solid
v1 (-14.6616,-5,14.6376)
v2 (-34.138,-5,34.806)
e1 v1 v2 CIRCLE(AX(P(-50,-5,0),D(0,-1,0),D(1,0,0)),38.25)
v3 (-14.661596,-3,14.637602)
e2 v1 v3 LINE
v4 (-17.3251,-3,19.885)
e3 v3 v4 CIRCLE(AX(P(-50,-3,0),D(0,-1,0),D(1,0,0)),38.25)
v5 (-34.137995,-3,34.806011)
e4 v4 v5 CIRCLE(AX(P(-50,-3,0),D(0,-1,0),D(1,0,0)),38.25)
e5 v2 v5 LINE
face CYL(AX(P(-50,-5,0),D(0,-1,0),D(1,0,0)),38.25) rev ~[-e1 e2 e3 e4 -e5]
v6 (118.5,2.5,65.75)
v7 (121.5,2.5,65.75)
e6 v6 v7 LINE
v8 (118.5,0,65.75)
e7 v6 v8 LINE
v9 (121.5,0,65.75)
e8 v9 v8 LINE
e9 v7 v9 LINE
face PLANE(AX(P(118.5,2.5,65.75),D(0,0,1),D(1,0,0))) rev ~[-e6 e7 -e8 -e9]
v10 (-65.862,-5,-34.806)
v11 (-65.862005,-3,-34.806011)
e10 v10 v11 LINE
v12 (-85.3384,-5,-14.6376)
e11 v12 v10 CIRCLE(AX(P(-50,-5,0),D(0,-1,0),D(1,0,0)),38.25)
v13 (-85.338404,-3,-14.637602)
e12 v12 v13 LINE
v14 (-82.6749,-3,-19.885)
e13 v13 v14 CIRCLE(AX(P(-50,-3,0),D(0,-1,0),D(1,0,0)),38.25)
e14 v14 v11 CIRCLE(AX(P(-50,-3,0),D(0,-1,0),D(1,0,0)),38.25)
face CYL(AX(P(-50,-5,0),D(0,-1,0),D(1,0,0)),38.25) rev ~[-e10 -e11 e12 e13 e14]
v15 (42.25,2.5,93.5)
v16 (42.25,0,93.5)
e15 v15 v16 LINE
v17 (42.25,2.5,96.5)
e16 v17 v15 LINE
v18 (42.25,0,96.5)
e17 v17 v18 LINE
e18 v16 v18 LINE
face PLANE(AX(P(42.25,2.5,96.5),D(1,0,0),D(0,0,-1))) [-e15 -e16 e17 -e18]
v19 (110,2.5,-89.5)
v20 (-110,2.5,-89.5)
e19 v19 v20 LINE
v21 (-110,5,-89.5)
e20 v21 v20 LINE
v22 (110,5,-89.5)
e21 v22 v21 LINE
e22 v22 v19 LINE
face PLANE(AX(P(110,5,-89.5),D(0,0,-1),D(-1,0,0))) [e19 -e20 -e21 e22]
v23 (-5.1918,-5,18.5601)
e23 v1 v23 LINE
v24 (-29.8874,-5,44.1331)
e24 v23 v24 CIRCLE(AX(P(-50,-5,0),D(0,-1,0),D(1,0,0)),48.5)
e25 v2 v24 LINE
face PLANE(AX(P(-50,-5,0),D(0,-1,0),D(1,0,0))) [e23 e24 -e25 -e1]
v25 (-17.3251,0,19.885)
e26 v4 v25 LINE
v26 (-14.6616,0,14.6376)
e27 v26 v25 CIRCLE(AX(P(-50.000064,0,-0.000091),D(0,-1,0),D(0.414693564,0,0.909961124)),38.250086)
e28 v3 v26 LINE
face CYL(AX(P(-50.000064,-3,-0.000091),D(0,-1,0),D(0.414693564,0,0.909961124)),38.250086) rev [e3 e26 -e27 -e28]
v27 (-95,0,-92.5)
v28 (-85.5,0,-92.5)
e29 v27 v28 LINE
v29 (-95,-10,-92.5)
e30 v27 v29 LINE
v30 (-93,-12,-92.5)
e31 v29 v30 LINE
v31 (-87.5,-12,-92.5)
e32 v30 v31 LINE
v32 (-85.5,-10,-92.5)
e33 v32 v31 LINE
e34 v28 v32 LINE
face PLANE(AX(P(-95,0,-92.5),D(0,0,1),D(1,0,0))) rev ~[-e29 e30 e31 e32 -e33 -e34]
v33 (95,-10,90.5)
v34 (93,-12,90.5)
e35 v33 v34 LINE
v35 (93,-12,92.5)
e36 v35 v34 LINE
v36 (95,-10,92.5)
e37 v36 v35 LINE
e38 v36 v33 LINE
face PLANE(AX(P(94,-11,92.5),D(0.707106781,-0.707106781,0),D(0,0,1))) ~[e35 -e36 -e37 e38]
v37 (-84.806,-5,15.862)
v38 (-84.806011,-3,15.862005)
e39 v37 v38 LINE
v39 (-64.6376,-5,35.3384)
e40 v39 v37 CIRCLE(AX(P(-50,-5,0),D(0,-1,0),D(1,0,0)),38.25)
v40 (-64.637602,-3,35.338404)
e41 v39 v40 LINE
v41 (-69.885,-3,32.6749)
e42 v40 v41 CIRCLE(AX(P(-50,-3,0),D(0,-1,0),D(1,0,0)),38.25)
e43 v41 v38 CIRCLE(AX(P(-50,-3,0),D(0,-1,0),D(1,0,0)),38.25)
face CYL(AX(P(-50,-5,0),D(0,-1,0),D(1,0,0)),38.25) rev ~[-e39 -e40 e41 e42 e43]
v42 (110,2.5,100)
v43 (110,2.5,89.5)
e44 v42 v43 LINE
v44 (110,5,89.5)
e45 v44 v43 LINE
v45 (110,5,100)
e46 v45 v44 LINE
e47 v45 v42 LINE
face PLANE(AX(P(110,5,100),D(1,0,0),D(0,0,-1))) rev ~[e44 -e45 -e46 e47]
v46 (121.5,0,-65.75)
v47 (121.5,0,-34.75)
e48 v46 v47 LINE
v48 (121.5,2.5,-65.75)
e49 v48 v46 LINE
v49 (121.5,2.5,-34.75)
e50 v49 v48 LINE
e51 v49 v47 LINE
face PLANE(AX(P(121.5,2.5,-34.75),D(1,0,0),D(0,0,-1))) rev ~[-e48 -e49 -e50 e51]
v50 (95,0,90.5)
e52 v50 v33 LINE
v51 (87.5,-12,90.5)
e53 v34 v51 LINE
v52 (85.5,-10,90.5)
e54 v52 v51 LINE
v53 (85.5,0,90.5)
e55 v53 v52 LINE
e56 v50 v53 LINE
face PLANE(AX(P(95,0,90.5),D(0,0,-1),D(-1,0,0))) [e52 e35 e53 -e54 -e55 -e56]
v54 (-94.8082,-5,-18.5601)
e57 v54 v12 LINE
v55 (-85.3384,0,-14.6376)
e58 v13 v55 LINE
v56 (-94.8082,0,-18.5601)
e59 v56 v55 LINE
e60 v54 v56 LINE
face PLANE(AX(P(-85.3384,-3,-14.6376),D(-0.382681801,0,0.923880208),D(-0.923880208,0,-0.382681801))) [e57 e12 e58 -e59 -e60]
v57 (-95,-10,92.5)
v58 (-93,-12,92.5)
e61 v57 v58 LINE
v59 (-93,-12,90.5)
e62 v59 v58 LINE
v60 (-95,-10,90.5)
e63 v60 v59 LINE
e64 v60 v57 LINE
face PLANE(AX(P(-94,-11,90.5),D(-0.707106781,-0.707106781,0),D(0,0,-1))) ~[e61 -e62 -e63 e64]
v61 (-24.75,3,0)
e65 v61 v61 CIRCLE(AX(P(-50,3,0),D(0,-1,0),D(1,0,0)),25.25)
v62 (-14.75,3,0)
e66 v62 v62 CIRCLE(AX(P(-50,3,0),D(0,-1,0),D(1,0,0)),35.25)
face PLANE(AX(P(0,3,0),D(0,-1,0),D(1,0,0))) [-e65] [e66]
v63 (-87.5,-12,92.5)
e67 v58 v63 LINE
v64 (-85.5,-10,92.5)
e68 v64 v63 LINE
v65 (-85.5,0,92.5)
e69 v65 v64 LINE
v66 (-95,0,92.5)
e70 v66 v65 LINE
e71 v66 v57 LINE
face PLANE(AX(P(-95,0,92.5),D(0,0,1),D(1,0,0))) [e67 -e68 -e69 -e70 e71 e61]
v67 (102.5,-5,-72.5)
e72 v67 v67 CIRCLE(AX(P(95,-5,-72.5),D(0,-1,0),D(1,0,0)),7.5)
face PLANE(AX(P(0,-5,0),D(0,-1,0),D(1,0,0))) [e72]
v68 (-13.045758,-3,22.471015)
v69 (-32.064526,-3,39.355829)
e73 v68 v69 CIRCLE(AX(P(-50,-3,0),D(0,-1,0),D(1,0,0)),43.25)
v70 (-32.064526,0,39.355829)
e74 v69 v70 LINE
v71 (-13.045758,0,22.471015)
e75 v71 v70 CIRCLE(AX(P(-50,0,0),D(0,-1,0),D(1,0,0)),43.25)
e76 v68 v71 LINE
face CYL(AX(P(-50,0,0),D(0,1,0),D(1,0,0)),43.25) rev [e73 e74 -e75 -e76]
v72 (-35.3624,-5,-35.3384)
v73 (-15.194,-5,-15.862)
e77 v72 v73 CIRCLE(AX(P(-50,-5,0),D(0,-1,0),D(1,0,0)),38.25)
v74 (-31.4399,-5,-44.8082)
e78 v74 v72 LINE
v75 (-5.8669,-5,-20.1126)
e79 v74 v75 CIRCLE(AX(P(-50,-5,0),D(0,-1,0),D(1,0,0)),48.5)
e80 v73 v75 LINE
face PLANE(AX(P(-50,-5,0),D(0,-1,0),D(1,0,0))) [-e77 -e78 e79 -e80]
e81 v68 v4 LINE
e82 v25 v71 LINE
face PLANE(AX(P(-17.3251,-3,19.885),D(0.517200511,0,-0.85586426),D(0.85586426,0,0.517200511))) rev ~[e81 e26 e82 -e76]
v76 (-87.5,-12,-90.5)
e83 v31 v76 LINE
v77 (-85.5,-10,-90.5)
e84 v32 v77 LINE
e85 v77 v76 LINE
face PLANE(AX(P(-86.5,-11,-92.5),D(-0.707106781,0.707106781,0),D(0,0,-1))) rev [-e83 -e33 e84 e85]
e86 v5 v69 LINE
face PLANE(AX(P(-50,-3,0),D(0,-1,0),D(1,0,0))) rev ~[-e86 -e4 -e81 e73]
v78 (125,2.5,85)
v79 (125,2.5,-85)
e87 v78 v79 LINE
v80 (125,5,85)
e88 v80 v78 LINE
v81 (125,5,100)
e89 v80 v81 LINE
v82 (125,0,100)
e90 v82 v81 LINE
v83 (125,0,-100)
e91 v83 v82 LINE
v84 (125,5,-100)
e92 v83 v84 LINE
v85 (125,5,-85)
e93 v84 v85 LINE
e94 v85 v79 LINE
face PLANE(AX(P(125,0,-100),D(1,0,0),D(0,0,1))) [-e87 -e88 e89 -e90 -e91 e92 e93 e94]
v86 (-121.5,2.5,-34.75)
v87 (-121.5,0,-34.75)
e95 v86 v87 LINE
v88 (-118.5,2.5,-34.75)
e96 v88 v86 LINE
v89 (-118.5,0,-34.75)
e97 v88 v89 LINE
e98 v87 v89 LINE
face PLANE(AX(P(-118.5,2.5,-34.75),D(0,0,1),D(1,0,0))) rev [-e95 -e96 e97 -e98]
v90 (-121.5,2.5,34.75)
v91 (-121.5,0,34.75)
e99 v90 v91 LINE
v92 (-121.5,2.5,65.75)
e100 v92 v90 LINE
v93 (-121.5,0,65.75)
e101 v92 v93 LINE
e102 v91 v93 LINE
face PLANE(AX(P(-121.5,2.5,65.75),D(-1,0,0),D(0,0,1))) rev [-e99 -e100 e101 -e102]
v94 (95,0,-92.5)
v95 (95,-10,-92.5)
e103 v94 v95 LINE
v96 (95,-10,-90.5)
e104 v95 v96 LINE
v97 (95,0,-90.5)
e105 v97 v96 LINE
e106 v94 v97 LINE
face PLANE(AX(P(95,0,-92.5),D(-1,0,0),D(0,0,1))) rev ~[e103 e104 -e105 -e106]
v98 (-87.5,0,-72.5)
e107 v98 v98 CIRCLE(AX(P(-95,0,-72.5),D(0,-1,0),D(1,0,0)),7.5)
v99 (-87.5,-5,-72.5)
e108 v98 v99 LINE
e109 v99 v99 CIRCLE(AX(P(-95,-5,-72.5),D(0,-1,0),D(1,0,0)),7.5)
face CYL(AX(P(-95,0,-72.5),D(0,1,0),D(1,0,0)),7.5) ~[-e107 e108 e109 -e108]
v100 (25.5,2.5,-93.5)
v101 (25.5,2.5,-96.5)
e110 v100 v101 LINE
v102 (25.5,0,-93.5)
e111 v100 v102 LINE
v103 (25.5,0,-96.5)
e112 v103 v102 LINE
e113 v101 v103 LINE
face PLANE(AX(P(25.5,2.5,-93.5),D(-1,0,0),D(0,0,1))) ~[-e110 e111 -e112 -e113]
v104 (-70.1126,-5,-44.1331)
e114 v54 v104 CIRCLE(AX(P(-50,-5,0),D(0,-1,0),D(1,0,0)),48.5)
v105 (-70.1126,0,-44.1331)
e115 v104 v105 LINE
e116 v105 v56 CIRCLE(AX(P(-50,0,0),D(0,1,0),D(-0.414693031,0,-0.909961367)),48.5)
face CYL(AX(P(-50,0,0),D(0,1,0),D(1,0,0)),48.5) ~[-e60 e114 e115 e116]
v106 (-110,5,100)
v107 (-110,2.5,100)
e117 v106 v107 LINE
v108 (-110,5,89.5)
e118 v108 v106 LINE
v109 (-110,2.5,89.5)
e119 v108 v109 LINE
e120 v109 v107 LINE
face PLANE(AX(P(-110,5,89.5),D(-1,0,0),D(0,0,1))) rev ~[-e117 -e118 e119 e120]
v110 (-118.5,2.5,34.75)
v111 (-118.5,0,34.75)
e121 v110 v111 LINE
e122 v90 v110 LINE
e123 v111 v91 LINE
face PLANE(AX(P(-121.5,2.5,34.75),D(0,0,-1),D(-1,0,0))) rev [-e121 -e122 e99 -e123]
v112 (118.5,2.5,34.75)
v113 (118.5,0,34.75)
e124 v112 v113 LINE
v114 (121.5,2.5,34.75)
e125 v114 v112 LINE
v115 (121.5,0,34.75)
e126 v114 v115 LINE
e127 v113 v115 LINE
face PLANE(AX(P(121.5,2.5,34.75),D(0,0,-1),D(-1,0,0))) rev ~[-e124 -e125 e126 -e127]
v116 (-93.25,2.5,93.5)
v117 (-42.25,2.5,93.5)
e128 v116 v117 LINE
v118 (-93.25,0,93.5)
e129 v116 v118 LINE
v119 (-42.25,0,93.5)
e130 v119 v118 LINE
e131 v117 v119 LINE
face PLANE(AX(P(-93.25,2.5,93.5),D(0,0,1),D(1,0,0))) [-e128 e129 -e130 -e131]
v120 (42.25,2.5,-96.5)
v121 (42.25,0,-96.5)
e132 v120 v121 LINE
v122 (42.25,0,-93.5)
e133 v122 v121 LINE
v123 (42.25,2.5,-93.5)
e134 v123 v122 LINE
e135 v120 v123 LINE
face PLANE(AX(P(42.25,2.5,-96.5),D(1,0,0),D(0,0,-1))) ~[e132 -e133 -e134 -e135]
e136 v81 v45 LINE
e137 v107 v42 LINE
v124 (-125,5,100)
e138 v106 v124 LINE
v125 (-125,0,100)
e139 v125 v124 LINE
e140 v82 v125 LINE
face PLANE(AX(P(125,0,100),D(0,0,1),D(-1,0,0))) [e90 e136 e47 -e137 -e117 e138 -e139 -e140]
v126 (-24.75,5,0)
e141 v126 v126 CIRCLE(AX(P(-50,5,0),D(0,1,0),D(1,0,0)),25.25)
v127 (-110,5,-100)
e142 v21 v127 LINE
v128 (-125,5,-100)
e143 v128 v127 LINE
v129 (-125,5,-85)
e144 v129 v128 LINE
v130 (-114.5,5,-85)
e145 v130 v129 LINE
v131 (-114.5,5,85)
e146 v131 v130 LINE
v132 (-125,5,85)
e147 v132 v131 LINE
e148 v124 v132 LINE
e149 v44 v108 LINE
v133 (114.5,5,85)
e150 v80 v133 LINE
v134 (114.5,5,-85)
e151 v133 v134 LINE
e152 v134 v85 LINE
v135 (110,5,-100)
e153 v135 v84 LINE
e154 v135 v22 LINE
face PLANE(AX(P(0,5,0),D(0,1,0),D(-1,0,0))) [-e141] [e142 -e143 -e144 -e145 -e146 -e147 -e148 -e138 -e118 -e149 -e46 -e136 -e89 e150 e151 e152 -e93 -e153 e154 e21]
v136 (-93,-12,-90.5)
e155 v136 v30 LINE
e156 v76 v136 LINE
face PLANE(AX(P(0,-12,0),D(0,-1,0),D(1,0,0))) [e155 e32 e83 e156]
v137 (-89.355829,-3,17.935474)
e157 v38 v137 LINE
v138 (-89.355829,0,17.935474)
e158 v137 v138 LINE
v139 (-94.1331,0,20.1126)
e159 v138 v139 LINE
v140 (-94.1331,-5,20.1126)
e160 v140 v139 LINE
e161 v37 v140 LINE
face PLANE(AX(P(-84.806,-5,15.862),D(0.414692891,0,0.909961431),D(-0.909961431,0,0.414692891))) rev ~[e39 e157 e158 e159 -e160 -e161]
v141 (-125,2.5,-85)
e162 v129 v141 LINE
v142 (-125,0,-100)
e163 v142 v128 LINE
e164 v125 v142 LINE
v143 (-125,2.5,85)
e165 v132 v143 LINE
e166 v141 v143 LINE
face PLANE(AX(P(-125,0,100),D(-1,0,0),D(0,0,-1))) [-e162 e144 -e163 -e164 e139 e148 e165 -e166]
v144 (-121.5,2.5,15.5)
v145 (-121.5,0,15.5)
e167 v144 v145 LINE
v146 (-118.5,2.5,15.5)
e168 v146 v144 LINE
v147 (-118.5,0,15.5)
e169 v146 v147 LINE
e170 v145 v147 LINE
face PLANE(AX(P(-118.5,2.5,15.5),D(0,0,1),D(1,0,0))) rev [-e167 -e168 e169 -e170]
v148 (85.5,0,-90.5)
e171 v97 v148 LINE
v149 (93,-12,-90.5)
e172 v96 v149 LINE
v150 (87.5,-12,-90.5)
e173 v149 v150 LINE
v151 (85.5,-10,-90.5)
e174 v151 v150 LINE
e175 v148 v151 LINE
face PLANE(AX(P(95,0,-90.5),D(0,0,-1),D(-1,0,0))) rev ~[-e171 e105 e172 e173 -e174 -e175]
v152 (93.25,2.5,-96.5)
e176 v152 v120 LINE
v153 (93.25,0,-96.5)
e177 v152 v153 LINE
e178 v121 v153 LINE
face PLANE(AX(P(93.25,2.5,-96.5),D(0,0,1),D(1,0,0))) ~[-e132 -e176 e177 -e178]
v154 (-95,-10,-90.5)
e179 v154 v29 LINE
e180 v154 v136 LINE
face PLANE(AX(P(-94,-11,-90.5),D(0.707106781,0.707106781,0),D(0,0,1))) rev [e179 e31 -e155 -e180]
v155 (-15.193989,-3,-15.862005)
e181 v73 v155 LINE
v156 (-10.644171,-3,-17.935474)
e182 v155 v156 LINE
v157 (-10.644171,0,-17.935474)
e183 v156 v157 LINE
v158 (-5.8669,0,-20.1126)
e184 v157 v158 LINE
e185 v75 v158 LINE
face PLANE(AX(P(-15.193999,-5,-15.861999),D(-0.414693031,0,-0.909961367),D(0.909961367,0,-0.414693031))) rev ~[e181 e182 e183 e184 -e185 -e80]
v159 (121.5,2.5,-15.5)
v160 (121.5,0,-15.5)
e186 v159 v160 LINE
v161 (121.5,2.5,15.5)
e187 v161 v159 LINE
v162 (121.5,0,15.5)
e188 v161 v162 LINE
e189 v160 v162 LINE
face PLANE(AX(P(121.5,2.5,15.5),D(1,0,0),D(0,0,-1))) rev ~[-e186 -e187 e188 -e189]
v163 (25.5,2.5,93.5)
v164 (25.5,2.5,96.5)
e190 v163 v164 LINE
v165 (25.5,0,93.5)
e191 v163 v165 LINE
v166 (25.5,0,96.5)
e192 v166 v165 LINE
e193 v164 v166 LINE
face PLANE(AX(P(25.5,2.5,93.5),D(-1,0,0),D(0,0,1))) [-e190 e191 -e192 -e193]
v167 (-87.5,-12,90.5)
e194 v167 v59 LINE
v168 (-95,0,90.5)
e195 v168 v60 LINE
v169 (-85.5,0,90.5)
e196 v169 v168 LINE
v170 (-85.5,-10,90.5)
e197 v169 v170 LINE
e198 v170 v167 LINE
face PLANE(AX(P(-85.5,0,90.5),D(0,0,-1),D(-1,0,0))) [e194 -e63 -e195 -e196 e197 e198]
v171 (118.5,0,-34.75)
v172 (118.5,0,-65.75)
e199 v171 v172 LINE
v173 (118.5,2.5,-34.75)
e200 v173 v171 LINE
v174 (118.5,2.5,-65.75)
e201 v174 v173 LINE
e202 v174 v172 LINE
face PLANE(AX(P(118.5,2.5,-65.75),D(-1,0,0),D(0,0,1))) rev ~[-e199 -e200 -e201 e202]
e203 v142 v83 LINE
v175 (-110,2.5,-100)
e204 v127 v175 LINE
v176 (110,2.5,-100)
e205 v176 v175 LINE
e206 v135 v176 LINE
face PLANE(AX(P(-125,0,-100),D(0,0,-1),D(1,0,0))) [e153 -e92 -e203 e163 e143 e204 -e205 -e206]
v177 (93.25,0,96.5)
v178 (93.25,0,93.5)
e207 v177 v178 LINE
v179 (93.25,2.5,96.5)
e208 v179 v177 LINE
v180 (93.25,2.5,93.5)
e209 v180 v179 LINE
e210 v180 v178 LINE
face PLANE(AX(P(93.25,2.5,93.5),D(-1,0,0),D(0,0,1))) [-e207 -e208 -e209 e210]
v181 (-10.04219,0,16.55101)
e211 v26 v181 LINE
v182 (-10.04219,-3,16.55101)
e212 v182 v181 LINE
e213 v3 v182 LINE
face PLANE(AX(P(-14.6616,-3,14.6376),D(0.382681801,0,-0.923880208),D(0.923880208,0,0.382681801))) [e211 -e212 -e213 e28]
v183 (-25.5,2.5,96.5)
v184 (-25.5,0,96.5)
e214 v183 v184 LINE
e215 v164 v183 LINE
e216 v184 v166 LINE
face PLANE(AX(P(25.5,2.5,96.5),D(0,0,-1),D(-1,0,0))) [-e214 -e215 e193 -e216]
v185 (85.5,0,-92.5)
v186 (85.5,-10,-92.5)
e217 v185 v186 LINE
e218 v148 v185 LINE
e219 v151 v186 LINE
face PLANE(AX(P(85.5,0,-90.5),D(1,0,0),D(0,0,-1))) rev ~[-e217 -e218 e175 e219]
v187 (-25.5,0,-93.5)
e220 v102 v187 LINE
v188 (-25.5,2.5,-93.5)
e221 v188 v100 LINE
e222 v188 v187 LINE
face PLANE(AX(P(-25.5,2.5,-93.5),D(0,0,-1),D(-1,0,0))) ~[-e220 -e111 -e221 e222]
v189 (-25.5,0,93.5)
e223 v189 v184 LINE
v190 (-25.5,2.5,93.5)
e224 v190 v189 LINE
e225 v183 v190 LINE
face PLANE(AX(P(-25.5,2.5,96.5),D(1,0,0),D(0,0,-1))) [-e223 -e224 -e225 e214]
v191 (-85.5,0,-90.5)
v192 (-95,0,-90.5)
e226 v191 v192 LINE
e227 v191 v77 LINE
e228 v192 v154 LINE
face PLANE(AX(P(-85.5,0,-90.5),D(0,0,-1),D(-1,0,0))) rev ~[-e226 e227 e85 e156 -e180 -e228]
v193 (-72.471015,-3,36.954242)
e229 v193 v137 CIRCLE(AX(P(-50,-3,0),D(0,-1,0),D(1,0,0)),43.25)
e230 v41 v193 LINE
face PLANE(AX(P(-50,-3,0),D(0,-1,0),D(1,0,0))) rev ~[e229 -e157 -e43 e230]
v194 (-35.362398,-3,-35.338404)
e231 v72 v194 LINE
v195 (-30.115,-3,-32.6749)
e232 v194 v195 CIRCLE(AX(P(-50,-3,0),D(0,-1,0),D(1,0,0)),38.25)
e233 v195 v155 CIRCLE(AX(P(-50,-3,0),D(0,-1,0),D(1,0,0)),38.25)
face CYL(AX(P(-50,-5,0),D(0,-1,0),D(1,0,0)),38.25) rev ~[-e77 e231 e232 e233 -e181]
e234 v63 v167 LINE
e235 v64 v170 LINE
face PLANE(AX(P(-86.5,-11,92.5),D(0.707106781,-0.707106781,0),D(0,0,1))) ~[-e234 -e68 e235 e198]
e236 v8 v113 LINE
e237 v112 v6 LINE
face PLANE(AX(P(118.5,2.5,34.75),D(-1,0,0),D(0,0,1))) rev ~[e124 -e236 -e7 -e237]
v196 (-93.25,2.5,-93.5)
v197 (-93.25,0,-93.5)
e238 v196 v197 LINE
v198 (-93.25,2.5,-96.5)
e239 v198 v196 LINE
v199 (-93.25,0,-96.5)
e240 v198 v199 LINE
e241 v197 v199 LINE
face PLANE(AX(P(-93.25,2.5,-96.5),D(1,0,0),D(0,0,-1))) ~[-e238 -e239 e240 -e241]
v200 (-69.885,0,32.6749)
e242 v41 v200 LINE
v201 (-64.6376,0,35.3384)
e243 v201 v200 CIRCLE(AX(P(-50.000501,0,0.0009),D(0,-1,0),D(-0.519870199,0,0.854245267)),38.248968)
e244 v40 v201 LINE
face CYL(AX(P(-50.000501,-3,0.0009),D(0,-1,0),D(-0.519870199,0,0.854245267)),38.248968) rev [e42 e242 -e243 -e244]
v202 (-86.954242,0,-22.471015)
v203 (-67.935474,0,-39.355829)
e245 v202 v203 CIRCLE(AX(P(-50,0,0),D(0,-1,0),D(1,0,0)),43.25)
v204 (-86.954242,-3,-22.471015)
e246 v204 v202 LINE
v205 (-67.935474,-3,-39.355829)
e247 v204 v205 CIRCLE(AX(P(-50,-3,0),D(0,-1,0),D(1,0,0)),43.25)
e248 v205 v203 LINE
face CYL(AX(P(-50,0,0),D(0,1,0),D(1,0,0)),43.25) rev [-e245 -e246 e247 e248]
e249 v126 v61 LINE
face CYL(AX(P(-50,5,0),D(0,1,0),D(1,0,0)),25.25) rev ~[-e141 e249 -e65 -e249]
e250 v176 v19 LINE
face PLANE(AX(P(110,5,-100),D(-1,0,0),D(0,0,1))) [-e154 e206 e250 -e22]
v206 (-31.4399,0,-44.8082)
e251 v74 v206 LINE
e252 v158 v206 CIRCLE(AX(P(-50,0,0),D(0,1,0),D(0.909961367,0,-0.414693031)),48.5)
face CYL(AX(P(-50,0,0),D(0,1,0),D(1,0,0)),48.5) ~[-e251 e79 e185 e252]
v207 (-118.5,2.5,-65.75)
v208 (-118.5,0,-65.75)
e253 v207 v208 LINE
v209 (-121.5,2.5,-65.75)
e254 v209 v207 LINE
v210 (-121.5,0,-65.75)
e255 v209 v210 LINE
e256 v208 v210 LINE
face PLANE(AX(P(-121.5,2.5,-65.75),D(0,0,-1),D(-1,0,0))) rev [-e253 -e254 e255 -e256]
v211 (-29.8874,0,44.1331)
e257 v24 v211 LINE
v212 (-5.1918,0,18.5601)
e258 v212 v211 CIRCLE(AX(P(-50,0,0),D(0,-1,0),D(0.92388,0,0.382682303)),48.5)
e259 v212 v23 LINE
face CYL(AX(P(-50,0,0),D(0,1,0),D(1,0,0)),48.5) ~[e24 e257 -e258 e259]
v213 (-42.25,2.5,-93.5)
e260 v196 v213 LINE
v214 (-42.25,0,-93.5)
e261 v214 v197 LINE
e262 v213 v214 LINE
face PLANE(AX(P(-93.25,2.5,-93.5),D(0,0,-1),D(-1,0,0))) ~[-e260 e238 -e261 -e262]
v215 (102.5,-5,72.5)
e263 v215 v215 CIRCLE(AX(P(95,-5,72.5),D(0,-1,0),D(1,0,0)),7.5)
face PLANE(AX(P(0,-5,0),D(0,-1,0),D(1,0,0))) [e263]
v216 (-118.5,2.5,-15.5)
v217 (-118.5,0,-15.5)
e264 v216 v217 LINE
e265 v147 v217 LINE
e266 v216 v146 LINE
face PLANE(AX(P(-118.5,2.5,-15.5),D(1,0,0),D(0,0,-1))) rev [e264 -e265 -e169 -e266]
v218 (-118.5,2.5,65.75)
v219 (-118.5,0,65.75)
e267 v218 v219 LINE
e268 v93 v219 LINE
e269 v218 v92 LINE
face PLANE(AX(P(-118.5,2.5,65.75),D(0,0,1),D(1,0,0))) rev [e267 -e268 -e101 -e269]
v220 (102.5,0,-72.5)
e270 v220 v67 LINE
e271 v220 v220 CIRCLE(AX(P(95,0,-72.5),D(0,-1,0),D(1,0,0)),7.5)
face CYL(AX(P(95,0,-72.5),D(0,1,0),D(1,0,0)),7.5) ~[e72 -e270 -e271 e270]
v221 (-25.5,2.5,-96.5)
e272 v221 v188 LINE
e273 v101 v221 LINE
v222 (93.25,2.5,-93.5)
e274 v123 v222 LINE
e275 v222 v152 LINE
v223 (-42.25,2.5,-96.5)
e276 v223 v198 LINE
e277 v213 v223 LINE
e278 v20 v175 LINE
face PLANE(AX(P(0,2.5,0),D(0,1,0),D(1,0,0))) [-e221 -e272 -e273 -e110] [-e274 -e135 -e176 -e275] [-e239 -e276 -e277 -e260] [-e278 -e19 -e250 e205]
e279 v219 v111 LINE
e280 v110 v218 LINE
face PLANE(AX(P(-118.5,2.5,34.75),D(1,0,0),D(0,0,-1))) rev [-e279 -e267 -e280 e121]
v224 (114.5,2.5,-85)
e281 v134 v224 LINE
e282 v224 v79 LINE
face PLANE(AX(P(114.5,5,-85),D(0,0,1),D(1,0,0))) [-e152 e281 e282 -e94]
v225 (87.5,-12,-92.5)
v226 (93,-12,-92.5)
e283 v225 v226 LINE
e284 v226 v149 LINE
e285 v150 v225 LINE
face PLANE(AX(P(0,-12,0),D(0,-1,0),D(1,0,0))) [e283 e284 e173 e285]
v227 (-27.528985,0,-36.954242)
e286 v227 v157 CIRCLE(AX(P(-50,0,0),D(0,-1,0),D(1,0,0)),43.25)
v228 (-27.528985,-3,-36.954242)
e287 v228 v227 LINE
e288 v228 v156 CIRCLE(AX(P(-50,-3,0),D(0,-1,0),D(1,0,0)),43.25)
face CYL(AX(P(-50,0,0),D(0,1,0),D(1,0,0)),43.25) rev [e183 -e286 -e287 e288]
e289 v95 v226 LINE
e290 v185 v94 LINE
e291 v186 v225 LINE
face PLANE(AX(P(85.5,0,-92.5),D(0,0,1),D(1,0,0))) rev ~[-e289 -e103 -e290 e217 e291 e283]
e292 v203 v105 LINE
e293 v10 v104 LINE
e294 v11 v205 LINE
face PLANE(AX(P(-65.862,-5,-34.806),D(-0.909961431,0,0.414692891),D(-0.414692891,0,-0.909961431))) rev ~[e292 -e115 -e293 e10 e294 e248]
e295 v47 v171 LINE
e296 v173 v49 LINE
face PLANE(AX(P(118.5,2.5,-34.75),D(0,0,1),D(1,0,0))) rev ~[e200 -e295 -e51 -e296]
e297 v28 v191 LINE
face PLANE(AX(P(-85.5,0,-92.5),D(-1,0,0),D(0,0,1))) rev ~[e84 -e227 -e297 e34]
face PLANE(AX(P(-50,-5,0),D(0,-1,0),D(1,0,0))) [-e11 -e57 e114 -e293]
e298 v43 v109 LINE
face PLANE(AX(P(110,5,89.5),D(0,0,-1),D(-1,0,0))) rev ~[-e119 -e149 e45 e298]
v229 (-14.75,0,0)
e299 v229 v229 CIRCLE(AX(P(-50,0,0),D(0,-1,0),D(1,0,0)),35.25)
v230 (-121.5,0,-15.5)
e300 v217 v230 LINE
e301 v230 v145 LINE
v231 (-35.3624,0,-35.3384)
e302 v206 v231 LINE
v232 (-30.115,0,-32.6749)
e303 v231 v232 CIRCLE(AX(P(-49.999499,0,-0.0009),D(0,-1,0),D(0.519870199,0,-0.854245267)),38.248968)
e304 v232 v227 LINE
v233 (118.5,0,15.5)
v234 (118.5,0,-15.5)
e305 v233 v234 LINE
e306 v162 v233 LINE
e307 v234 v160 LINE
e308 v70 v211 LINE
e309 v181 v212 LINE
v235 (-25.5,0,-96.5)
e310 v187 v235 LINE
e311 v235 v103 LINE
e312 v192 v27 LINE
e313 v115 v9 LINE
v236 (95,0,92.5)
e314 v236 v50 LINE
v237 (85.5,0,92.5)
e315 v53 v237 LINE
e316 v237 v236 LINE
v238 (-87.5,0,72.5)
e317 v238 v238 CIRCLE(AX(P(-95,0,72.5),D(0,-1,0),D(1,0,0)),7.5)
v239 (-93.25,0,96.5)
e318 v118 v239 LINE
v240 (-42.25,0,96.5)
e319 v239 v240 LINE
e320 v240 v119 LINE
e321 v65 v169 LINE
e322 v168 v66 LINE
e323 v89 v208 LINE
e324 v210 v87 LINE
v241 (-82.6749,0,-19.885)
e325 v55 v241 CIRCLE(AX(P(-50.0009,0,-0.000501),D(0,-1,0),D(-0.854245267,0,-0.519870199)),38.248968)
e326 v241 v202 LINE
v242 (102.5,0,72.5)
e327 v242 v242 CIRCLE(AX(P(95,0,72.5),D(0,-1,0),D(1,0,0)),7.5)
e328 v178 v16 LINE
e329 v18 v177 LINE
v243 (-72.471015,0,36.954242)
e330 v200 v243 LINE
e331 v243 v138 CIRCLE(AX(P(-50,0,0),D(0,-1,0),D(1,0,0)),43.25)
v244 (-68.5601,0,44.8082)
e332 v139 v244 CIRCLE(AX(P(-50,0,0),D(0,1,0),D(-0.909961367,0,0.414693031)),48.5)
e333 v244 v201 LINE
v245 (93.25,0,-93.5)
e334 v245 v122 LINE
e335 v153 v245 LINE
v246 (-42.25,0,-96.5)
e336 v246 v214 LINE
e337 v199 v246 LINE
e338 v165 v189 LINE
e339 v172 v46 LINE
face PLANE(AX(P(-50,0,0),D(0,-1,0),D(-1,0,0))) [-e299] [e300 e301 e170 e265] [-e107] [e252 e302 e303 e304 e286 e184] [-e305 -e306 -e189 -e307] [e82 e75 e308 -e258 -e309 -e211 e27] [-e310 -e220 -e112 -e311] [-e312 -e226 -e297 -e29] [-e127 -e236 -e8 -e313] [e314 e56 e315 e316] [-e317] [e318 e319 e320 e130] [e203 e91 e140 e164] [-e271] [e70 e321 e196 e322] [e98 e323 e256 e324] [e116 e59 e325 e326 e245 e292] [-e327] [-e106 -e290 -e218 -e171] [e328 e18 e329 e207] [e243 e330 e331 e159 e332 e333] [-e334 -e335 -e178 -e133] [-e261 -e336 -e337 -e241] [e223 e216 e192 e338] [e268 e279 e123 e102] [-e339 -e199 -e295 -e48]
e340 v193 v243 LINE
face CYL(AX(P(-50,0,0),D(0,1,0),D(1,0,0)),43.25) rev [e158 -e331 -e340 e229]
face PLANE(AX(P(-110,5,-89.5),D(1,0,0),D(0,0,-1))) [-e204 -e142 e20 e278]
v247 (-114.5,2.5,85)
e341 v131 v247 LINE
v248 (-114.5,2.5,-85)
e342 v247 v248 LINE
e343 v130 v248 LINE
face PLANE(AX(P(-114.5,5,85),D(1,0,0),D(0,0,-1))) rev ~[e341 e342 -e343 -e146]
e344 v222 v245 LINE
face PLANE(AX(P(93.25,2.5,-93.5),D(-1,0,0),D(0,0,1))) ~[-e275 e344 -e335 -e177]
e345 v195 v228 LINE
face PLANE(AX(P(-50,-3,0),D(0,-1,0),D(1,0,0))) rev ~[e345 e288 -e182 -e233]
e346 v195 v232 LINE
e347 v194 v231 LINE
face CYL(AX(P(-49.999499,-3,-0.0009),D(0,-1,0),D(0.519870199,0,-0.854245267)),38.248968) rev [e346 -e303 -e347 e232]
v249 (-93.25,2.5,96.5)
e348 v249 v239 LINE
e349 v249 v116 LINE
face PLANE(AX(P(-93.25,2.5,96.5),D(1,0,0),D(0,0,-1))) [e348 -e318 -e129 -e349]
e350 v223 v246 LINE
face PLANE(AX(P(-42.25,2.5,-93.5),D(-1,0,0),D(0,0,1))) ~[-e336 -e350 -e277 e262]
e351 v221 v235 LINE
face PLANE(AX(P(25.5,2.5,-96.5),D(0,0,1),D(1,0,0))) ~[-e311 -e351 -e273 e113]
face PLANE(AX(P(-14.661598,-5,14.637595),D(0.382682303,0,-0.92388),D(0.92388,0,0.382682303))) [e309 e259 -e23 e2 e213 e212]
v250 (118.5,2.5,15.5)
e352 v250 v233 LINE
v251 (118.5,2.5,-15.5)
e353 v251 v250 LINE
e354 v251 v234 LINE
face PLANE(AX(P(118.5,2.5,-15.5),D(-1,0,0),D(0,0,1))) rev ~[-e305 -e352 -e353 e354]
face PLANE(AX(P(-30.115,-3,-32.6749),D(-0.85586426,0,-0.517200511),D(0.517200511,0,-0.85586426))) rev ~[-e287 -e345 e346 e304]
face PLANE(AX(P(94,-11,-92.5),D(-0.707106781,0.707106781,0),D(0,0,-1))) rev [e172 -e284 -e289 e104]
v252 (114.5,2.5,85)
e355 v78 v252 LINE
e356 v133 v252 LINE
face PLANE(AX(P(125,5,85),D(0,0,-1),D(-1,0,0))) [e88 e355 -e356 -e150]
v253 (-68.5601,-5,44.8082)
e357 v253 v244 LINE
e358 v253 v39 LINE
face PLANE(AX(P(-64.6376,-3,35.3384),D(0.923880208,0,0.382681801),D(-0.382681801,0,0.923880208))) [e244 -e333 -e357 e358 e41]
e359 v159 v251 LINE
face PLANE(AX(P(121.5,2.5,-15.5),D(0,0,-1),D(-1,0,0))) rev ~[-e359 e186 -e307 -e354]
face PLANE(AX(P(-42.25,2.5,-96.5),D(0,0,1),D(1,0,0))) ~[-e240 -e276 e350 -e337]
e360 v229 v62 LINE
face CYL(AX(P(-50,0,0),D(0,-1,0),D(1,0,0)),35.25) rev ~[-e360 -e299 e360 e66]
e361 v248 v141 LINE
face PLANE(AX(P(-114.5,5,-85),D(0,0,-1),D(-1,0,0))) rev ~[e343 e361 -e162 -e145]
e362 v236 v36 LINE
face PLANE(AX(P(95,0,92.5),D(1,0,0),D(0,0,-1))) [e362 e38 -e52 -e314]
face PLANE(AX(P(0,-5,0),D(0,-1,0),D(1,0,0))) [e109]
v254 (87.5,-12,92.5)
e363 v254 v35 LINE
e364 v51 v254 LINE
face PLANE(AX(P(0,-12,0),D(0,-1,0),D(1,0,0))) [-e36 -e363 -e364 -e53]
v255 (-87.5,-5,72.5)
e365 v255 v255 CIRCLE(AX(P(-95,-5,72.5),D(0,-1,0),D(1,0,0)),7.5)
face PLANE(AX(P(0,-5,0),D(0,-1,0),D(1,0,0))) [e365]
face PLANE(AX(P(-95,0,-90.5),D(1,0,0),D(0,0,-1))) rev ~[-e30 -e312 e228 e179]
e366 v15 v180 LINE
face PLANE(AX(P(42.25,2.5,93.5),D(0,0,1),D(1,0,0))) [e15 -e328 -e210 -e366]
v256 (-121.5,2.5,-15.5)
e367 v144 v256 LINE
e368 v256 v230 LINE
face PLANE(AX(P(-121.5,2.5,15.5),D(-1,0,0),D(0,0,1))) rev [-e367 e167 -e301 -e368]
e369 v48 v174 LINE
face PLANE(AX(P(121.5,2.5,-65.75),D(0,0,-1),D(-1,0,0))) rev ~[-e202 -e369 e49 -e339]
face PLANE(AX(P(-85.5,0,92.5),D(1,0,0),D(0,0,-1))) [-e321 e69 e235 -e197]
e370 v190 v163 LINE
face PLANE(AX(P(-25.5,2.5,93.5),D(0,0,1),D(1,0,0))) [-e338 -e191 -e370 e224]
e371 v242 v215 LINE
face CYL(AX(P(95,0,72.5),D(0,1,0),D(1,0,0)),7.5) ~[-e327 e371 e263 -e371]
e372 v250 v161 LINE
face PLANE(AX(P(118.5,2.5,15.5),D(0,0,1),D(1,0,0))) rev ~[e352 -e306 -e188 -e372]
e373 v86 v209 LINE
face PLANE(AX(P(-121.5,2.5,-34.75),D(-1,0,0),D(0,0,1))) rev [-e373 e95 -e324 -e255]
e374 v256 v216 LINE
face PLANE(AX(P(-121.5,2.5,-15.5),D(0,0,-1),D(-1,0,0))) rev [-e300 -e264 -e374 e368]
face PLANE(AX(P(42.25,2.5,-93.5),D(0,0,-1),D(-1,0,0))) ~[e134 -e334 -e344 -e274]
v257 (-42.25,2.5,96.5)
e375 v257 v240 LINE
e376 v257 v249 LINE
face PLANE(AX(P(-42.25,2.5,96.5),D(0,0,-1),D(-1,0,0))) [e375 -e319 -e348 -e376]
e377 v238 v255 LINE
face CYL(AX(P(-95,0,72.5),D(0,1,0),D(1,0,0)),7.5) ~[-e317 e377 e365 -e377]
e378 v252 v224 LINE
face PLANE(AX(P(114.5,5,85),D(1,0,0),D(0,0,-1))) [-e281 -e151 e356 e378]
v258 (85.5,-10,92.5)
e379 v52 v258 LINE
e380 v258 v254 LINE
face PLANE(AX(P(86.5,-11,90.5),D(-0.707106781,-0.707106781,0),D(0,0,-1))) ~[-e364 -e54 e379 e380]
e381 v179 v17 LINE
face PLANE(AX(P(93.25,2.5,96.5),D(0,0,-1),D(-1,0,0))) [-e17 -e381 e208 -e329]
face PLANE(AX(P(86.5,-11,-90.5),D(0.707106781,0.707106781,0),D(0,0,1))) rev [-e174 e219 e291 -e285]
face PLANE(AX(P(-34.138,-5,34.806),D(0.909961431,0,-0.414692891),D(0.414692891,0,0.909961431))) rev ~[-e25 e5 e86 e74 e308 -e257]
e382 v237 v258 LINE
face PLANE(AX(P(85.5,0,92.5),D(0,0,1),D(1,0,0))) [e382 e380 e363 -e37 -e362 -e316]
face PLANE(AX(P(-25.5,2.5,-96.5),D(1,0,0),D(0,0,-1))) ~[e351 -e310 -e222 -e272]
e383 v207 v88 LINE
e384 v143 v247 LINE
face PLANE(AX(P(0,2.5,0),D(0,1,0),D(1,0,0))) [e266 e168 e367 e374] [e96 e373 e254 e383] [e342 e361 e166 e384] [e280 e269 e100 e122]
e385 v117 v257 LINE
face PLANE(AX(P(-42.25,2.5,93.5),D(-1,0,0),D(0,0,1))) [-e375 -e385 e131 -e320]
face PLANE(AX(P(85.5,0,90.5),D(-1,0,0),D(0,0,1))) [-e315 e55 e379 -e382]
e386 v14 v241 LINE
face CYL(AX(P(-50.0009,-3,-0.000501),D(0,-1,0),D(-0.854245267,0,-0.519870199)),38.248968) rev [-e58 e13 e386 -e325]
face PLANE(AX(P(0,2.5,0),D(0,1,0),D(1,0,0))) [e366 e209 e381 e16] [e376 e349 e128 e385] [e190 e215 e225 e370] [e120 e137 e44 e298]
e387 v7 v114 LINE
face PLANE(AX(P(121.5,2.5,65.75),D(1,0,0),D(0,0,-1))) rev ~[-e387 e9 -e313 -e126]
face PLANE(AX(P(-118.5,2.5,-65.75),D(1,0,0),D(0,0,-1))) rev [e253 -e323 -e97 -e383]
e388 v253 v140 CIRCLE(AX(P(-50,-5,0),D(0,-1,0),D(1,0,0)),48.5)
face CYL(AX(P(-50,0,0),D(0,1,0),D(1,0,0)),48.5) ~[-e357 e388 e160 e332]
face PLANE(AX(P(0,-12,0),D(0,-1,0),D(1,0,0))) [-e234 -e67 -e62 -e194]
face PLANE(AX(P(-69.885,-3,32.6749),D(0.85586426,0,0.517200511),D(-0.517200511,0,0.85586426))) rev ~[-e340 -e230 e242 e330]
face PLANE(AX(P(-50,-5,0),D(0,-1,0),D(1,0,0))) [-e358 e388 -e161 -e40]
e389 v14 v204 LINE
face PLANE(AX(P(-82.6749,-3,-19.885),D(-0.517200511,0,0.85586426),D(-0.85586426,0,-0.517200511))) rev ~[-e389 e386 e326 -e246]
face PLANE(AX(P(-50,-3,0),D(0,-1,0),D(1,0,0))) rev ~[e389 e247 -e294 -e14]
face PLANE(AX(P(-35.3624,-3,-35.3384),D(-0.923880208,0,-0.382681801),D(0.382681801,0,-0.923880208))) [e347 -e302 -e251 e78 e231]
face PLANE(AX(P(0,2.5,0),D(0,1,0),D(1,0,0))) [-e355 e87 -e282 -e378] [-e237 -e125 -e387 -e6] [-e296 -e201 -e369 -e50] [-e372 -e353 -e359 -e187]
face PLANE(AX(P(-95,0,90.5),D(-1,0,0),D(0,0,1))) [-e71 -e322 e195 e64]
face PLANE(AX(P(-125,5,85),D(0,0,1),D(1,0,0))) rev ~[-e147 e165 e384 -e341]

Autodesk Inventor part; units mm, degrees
ref_plane "YZ Plane" through (0, 0, 0) normal (1, 0, 0) x (0, 1, 0)
ref_plane "XZ Plane" through (0, 0, 0) normal (0, 1, 0) x (-1, 0, 0)
ref_plane "XY Plane" through (0, 0, 0) normal (0, 0, 1) x (1, 0, 0)
sketch "Sketch1" plane through (0, 0, 0) normal (0, 1, 0) x (-1, 0, 0)
  line L0 (-125, 100) -> (125, 100)
  line L1 (125, 100) -> (125, -100)
  line L2 (125, -100) -> (-125, -100)
  line L3 (-125, -100) -> (-125, 100)
  point P0 (0, 0)
  dimension "d0" = 200
  dimension "d1" = 250
  dimension "d2" = 125
  dimension "d3" = 100
extrude "Extrusion1" add sketch "Sketch1" along normal blind 5
sketch "Sketch2" plane through (0, 5, 0) normal (0, 1, 0) x (1, 0, 0)
  circle A0 centre (-50, 0) radius 25.25
  point P0 (0, 0)
  dimension "d6" = 50.5
  dimension "d7" = 50
extrude "Extrusion2" cut sketch "Sketch2" against normal through all
sketch "Sketch3" plane through (0, 0, 0) normal (0, -1, 0) x (1, 0, 0)
  circle A0 centre (-95, -72.5) radius 7.5
  circle A1 centre (-95, 72.5) radius 7.5
  circle A2 centre (95, -72.5) radius 7.5
  circle A3 centre (95, 72.5) radius 7.5
  circle A4 centre (-95, -72.5) radius 8.5
  circle A5 centre (-95, 72.5) radius 8.5
  circle A6 centre (95, 72.5) radius 8.5
  circle A7 centre (95, -72.5) radius 8.5
  point P0 (0, 0)
  dimension "d10" = 15
  dimension "d11" = 72.5
  dimension "d12" = 95
  dimension "d13" = 15
  dimension "d14" = 72.5
  dimension "d15" = 95
  dimension "d16" = 15
  dimension "d17" = 15
  dimension "d18" = 72.5
  dimension "d19" = 72.5
  dimension "d20" = 95
  dimension "d21" = 95
  dimension "d22" = 17
  dimension "d23" = 17
  dimension "d24" = 17
  dimension "d25" = 17
extrude "Extrusion3" [suppressed]
sketch "Sketch4" plane through (0, 0, 0) normal (0, -1, 0) x (1, 0, 0)
  circle A0 centre (-50, 0) radius 25.25
  circle A1 centre (-50, 0) radius 35.25
  point P0 (0, 0)
  dimension "d28" = 70.5
  dimension "d90" = 50.5
extrude "Extrusion4" cut sketch "Sketch4" against normal blind 3
extrude "Extrusion5" add sketch "Sketch3" along normal blind 5 contours A0 | A1 | A2 | A3
sketch "Sketch5" plane through (0, 0, 0) normal (0, -1, 0) x (1, 0, 0)
  line L0 (-115, -92.5) -> (-115, 92.5)
  line L1 (-115, -92.5) -> (115, -92.5)
  line L2 (-115, 92.5) -> (115, 92.5)
  line L3 (115, 92.5) -> (115, -92.5)
  line L4 (-95, -92.5) -> (-85.5, -92.5)
  line L5 (-85.5, -92.5) -> (-85.5, -90.5)
  line L6 (-85.5, -90.5) -> (-95, -90.5)
  line L7 (-95, -90.5) -> (-95, -92.5)
  line L8 (-95, 92.5) -> (-85.5, 92.5)
  line L9 (-85.5, 92.5) -> (-85.5, 90.5)
  line L10 (-85.5, 90.5) -> (-95, 90.5)
  line L11 (-95, 90.5) -> (-95, 92.5)
  line L12 (85.5, -92.5) -> (95, -92.5)
  line L13 (95, -92.5) -> (95, -90.5)
  line L14 (95, -90.5) -> (85.5, -90.5)
  line L15 (85.5, -90.5) -> (85.5, -92.5)
  line L16 (85.5, 92.5) -> (95, 92.5)
  line L17 (95, 92.5) -> (95, 90.5)
  line L18 (95, 90.5) -> (85.5, 90.5)
  line L19 (85.5, 90.5) -> (85.5, 92.5)
  point P0 (0, 0)
  dimension "d33" = 185
  dimension "d34" = 92.5
  dimension "d35" = 230
  dimension "d36" = 115
  dimension "d37" = 9.5
  dimension "d38" = 2
  dimension "d40" = 9.5
  dimension "d41" = 2
  dimension "d43" = 9.5
  dimension "d44" = 2
  dimension "d46" = 2
  dimension "d47" = 9.5
  dimension "d111" = 85.5
  dimension "d112" = 85.5
  dimension "d113" = 85.5
  dimension "d114" = 85.5
extrude "Extrusion6" add sketch "Sketch5" along normal blind 12 contours L7 L6 L5 L1 | L2 L9 L10 L11 | L15 L14 L13 L1 | L2 L17 L18 L19
chamfer "Chamfer1" distance 2 angle 45 8 edges at (-85.5, -12, -91.5) (-95, -12, -91.5) (-85.5, -12, 91.5) (-95, -12, 91.5) (85.5, -12, 91.5) (95, -12, 91.5) (95, -12, -91.5) (85.5, -12, -91.5)
sketch "Sketch6" plane through (0, 0, 0) normal (0, -1, 0) x (1, 0, 0)
  circle A0 centre (-50, 0) radius 25.25
  circle A1 centre (-50, 0) radius 35.25
  circle A2 centre (-50, 0) radius 43.25
  circle A3 centre (-50, 0) radius 48.5
  point P0 (0, 0)
  dimension "d54" = 86.5
  dimension "d57" = 97
  dimension "d58" = 5.25
  dimension "d91" = 50.5
  dimension "d92" = 70.5
  dimension "d93" = 8
extrude "Extrusion7" add sketch "Sketch6" along normal blind 5 contours A3
sketch "Sketch7" plane through (-50, -5, 0) normal (0, -1, 0) x (1, 0, 0)
  circle A0 centre (0, 0) radius 43.25 projected
  circle A1 centre (0, 0) radius 48.5 projected
  circle A2 centre (0, 0) radius 38.25
  point P0 (50, 0)
  dimension "d61" = 76.5
  dimension "d62" = 5
extrude "Extrusion8" add sketch "Sketch7" against normal blind 2 contours A0
sketch "Sketch8" plane through (-50, -5, 0) normal (0, -1, 0) x (-1, 0, 0)
  circle A0 centre (0, 0) radius 24.5
  circle A1 centre (0, 0) radius 32.5
  line L0 (0, 0) -> (-32.5, 0)
  arc A2 (-30.0261, 12.4372) -> (-32.5, 0) centre (0, 0) ccw
  line L1 (0, 0) -> (-30.0261, 12.4372) construction
  line L2 (0, 0) -> (-32.5, 0) construction
  arc A3 (-32.5, 0) -> (-30.0261, -12.4372) centre (0, 0) ccw
  line L3 (0, 0) -> (-30.0261, -12.4372) construction
  line L4 (0, 0) -> (-32.5, 0) construction
  arc A4 (-22.635, 9.3757) -> (-24.5, 0) centre (0, 0) ccw
  line L5 (0, 0) -> (-22.635, 9.3757) construction
  line L6 (0, 0) -> (-24.5, 0) construction
  arc A5 (-24.5, 0) -> (-22.635, -9.3757) centre (0, 0) ccw
  line L7 (0, 0) -> (-22.635, -9.3757) construction
  line L8 (0, 0) -> (-24.5, 0) construction
  line L9 (-30.0261, -12.4372) -> (-22.635, -9.3757)
  line L10 (-30.0261, 12.4372) -> (-22.635, 9.3757)
  line L11 (-12.4372, -30.0261) -> (-9.3757, -22.635)
  arc A6 (-12.4372, -30.0261) -> (0, -32.5) centre (0, 0) ccw
  arc A7 (0, -24.5) -> (9.3757, -22.635) centre (0, 0) ccw
  line L12 (12.4372, -30.0261) -> (9.3757, -22.635)
  arc A8 (0, -32.5) -> (12.4372, -30.0261) centre (0, 0) ccw
  arc A9 (-9.3757, -22.635) -> (0, -24.5) centre (0, 0) ccw
  line L13 (30.0261, -12.4372) -> (22.635, -9.3757)
  arc A10 (30.0261, -12.4372) -> (32.5, 0) centre (0, 0) ccw
  arc A11 (24.5, 0) -> (22.635, 9.3757) centre (0, 0) ccw
  line L14 (30.0261, 12.4372) -> (22.635, 9.3757)
  arc A12 (32.5, 0) -> (30.0261, 12.4372) centre (0, 0) ccw
  arc A13 (22.635, -9.3757) -> (24.5, 0) centre (0, 0) ccw
  line L15 (12.4372, 30.0261) -> (9.3757, 22.635)
  arc A14 (12.4372, 30.0261) -> (0, 32.5) centre (0, 0) ccw
  arc A15 (0, 24.5) -> (-9.3757, 22.635) centre (0, 0) ccw
  line L16 (-12.4372, 30.0261) -> (-9.3757, 22.635)
  arc A16 (0, 32.5) -> (-12.4372, 30.0261) centre (0, 0) ccw
  arc A17 (9.3757, 22.635) -> (0, 24.5) centre (0, 0) ccw
  point P0 (-50, 0)
  dimension "d65" = 22.5
  dimension "d66" = 22.5
  dimension "d67" = 22.5
  dimension "d68" = 22.5
  dimension "d71" = 360
extrude "Extrusion9" [suppressed]
sketch "Sketch9" plane through (-50, -3, 0) normal (0, 1, 0) x (1, 0, 0)
  arc A0 (38.25, 0) -> (38.25, 0) centre (0, 0) ccw projected
  line L0 (6.3338, 15.2912) -> (5.6016, 13.5234) projected
  circle A1 centre (0, 0) radius 48.5 projected
  line L1 (-12.4208, -29.4807) -> (-18.7354, -44.7254)
  line L2 (-12.4208, -29.4807) -> (-18.7354, -44.7254)
  line L3 (-16.5284, -27.6382) -> (-22.8093, -42.8017)
  line L4 (-16.5284, -27.6382) -> (-16.4484, -27.445)
  arc A2 (-16.4484, -27.445) -> (-12.4208, -29.4807) centre (-0.9406, -1.765) ccw
  arc A3 (-22.8093, -42.8017) -> (-18.7354, -44.7254) centre (-0.9406, -1.765) ccw
  circle A4 centre (0, 0) radius 48.5 projected
  circle A5 centre (0, 0) radius 48.5 projected
  circle A6 centre (0, 0) radius 48.5 projected
  line L5 (27.6382, -16.5284) -> (27.445, -16.4484)
  arc A7 (27.445, -16.4484) -> (29.4807, -12.4208) centre (1.765, -0.9406) ccw
  line L6 (27.6382, -16.5284) -> (42.8017, -22.8093)
  line L7 (29.4807, -12.4208) -> (44.7254, -18.7354)
  line L8 (29.4807, -12.4208) -> (44.7254, -18.7354)
  arc A8 (42.8017, -22.8093) -> (44.7254, -18.7354) centre (1.765, -0.9406) ccw
  line L9 (16.5284, 27.6382) -> (16.4484, 27.445)
  arc A9 (16.4484, 27.445) -> (12.4208, 29.4807) centre (0.9406, 1.765) ccw
  line L10 (16.5284, 27.6382) -> (22.8093, 42.8017)
  line L11 (12.4208, 29.4807) -> (18.7354, 44.7254)
  line L12 (12.4208, 29.4807) -> (18.7354, 44.7254)
  arc A10 (22.8093, 42.8017) -> (18.7354, 44.7254) centre (0.9406, 1.765) ccw
  line L13 (-27.6382, 16.5284) -> (-27.445, 16.4484)
  arc A11 (-27.445, 16.4484) -> (-29.4807, 12.4208) centre (-1.765, 0.9406) ccw
  line L14 (-27.6382, 16.5284) -> (-42.8017, 22.8093)
  line L15 (-29.4807, 12.4208) -> (-44.7254, 18.7354)
  line L16 (-29.4807, 12.4208) -> (-44.7254, 18.7354)
  arc A12 (-42.8017, 22.8093) -> (-44.7254, 18.7354) centre (-1.765, 0.9406) ccw
  point P0 (50, 0)
  point P1 (43.25, 0)
  dimension "d80" = 360
extrude "Extrusion10" [suppressed]
sketch "Sketch10" plane through (-50, -3, 0) normal (0, 1, 0) x (1, 0, 0)
  circle A0 centre (0, 0) radius 48.5 projected
  circle A1 centre (0, 0) radius 48.5 projected
  circle A2 centre (0, 0) radius 48.5 projected
  circle A3 centre (0, 0) radius 48.5 projected
  line L0 (-14.6953, -34.4604) -> (-12.796, -29.875)
  arc A4 (-16.2395, -28.1519) -> (-12.796, -29.875) centre (0, 0) ccw
  circle A5 centre (0, 0) radius 43.25 projected
  line L1 (-16.2395, -28.1519) -> (0, 0)
  arc A6 (-18.7064, -32.4284) -> (43.25, 0) centre (1.9845, 3.4403) ccw
  line L2 (-16.2395, -28.1519) -> (-18.7064, -32.4284)
  line L3 (28.1519, -16.2395) -> (32.4829, -18.7379)
  arc A7 (32.4829, -18.7379) -> (0, -35) centre (3.9228, -2.2629) ccw
  arc A8 (28.1519, -16.2395) -> (29.875, -12.796) centre (0, 0) ccw
  line L4 (34.4604, -14.6953) -> (29.875, -12.796)
  line L5 (16.2395, 28.1519) -> (18.7379, 32.4829)
  arc A9 (18.7379, 32.4829) -> (35, 0) centre (2.2629, 3.9228) ccw
  arc A10 (16.2395, 28.1519) -> (12.796, 29.875) centre (0, 0) ccw
  line L6 (14.6953, 34.4604) -> (12.796, 29.875)
  line L7 (-28.1519, 16.2395) -> (-32.4829, 18.7379)
  arc A11 (-32.4829, 18.7379) -> (0, 35) centre (-3.9228, 2.2629) ccw
  arc A12 (-28.1519, 16.2395) -> (-29.875, 12.796) centre (0, 0) ccw
  line L8 (-34.4604, 14.6953) -> (-29.875, 12.796)
  point P0 (50, 0)
  point P1 (-37, 0)
  point P2 (-37, 0)
extrude "Extrusion11" [suppressed]
sketch "Sketch11" plane through (-50, -5, 0) normal (0, -1, 0) x (-1, 0, 0)
  circle A0 centre (0, 0) radius 38.25 projected
  circle A1 centre (0, 0) radius 48.5 projected
  arc A2 (-44.1331, 20.1126) -> (-48.4926, 0.8464) centre (0, 0) ccw
  line L0 (0, 0) -> (-44.1331, 20.1126) construction
  line L1 (0, 0) -> (-48.4926, 0.8464) construction
  arc A3 (-48.4926, 0.8464) -> (-44.8082, -18.5601) centre (0, 0) ccw
  line L2 (0, 0) -> (-44.8082, -18.5601) construction
  line L3 (0, 0) -> (-48.4926, 0.8464) construction
  arc A4 (-34.806, 15.862) -> (-38.2442, 0.6676) centre (0, 0) ccw
  line L4 (0, 0) -> (-34.806, 15.862) construction
  line L5 (0, 0) -> (-38.2442, 0.6676) construction
  arc A5 (-38.2442, 0.6676) -> (-35.3384, -14.6376) centre (0, 0) ccw
  line L6 (0, 0) -> (-35.3384, -14.6376) construction
  line L7 (0, 0) -> (-38.2442, 0.6676) construction
  line L8 (0, 0) -> (-44.8082, -18.5601)
  line L9 (0, 0) -> (-44.1331, 20.1126)
  line L10 (-44.8082, -18.5601) -> (-35.3384, -14.6376)
  line L11 (-34.806, 15.862) -> (-44.1331, 20.1126)
  arc A6 (-15.862, -34.806) -> (-0.6676, -38.2442) centre (0, 0) ccw
  arc A7 (-0.6676, -38.2442) -> (14.6376, -35.3384) centre (0, 0) ccw
  line L12 (18.5601, -44.8082) -> (14.6376, -35.3384)
  arc A8 (-0.8464, -48.4926) -> (18.5601, -44.8082) centre (0, 0) ccw
  line L13 (-15.862, -34.806) -> (-20.1126, -44.1331)
  arc A9 (-20.1126, -44.1331) -> (-0.8464, -48.4926) centre (0, 0) ccw
  arc A10 (34.806, -15.862) -> (38.2442, -0.6676) centre (0, 0) ccw
  arc A11 (38.2442, -0.6676) -> (35.3384, 14.6376) centre (0, 0) ccw
  line L14 (44.8082, 18.5601) -> (35.3384, 14.6376)
  arc A12 (48.4926, -0.8464) -> (44.8082, 18.5601) centre (0, 0) ccw
  line L15 (34.806, -15.862) -> (44.1331, -20.1126)
  arc A13 (44.1331, -20.1126) -> (48.4926, -0.8464) centre (0, 0) ccw
  arc A14 (15.862, 34.806) -> (0.6676, 38.2442) centre (0, 0) ccw
  arc A15 (0.6676, 38.2442) -> (-14.6376, 35.3384) centre (0, 0) ccw
  line L16 (-18.5601, 44.8082) -> (-14.6376, 35.3384)
  arc A16 (0.8464, 48.4926) -> (-18.5601, 44.8082) centre (0, 0) ccw
  line L17 (15.862, 34.806) -> (20.1126, 44.1331)
  arc A17 (20.1126, 44.1331) -> (0.8464, 48.4926) centre (0, 0) ccw
  point P0 (-50, 0)
  dimension "d94" = 23.5
  dimension "d95" = 23.5
  dimension "d96" = 23.5
  dimension "d97" = 23.5
  dimension "d100" = 360
extrude "Extrusion12" cut sketch "Sketch11" against normal up to surface (5 mm away) contours A0 L14 A1 L15 | A0 L16 A1 L17 | L12 A1 L13 A0 | A0 L8 A1 L9
sketch "Sketch12" plane through (-50, -3, 0) normal (0, 1, 0) x (-1, 0, 0)
  line L0 (-35.3384, 14.6376) -> (-44.8082, 18.5601) projected
  arc A0 (-20.1126, 44.1331) -> (-44.8082, 18.5601) centre (0, 0) ccw projected
  line L1 (-20.1126, 44.1331) -> (-15.862, 34.806) projected
  arc A1 (-15.862, 34.806) -> (-35.3384, 14.6376) centre (0, 0) ccw projected
  arc A2 (-17.9355, 39.3558) -> (-39.9578, 16.5511) centre (0, 0) ccw projected
  arc A3 (-32.6749, 19.885) -> (-35.3384, 14.6376) centre (0, 0) ccw
  arc A4 (-41.4475, 25.1863) -> (-44.8082, 18.5601) centre (0, 0) ccw
  line L2 (-32.6749, 19.885) -> (-41.4475, 25.1863)
  line L3 (-35.3384, 14.6376) -> (-44.8082, 18.5601)
  arc A5 (-25.1863, -41.4475) -> (-18.5601, -44.8082) centre (0, 0) ccw
  line L4 (-19.885, -32.6749) -> (-25.1863, -41.4475)
  line L5 (-14.6376, -35.3384) -> (-18.5601, -44.8082)
  arc A6 (-19.885, -32.6749) -> (-14.6376, -35.3384) centre (0, 0) ccw
  arc A7 (41.4475, -25.1863) -> (44.8082, -18.5601) centre (0, 0) ccw
  line L6 (32.6749, -19.885) -> (41.4475, -25.1863)
  line L7 (35.3384, -14.6376) -> (44.8082, -18.5601)
  arc A8 (32.6749, -19.885) -> (35.3384, -14.6376) centre (0, 0) ccw
  arc A9 (25.1863, 41.4475) -> (18.5601, 44.8082) centre (0, 0) ccw
  line L8 (19.885, 32.6749) -> (25.1863, 41.4475)
  line L9 (14.6376, 35.3384) -> (18.5601, 44.8082)
  arc A10 (19.885, 32.6749) -> (14.6376, 35.3384) centre (0, 0) ccw
  point P0 (-50, 0)
  dimension "d107" = 360
extrude "Extrusion13" add sketch "Sketch12" along normal up to surface (8 mm away) contours L0 A2 L2 A1 | L0 A0 L2 A2 | L4 A6 L5 A5 | L6 A8 L7 A7 | L8 A10 L9 A9
sketch "Sketch14" plane through (0, 5, 0) normal (0, 1, 0) x (1, 0, 0)
  circle A0 centre (-50, 0) radius 25.25
  line L0 (-125, -100) -> (125, -100)
  line L1 (125, -100) -> (125, 100)
  line L2 (125, 100) -> (-125, 100)
  line L3 (-125, 100) -> (-125, -100)
  line L4 (-110, -100) -> (110, -100)
  line L5 (110, -100) -> (110, -89.5)
  line L6 (110, -89.5) -> (-110, -89.5)
  line L7 (-110, -89.5) -> (-110, -100)
  line L8 (-125, -85) -> (-114.5, -85)
  line L9 (-114.5, -85) -> (-114.5, 85)
  line L10 (-114.5, 85) -> (-125, 85)
  line L11 (-125, 85) -> (-125, -85)
  line L12 (-110, 100) -> (110, 100)
  line L13 (110, 100) -> (110, 89.5)
  line L14 (110, 89.5) -> (-110, 89.5)
  line L15 (-110, 89.5) -> (-110, 100)
  line L16 (125, -85) -> (114.5, -85)
  line L17 (114.5, -85) -> (114.5, 85)
  line L18 (114.5, 85) -> (125, 85)
  line L19 (125, 85) -> (125, -85)
  circle A1 centre (-50, 0) radius 25.25 projected
  line L20 (-125, -100) -> (125, -100) projected
  line L21 (125, -100) -> (125, 100) projected
  line L22 (125, 100) -> (-125, 100) projected
  line L23 (-125, 100) -> (-125, -100) projected
  point P0 (0, 0)
  dimension "d161" = 10.5
  dimension "d162" = 15
  dimension "d163" = 15
  dimension "d164" = 10.5
  dimension "d165" = 15
  dimension "d166" = 15
  dimension "d167" = 10.5
  dimension "d168" = 15
  dimension "d169" = 15
  dimension "d170" = 10.5
  dimension "d171" = 15
  dimension "d172" = 15
  dimension "d173" = 220
  dimension "d174" = 170
extrude "Extrusion15" cut sketch "Sketch14" against normal blind 2.5 contours L7 L6 L5 L0 | L3 L10 L9 L8 | L16 L17 L18 L1 | L2 L13 L14 L15
sketch "Sketch17" plane through (0, 2.5, 0) normal (0, 1, 0) x (1, 0, 0)
  line L0 (125, 85) -> (125, -85) projected
  line L1 (114.5, 85) -> (125, 85) projected
  line L2 (114.5, -85) -> (114.5, 85) projected
  line L3 (125, -85) -> (114.5, -85) projected
  line L4 (118.5, -65.75) -> (121.5, -65.75)
  line L5 (121.5, -65.75) -> (121.5, -34.75)
  line L6 (121.5, -34.75) -> (118.5, -34.75)
  line L7 (118.5, -34.75) -> (118.5, -65.75)
  line L8 (118.5, -15.5) -> (121.5, -15.5)
  line L9 (121.5, -15.5) -> (121.5, 15.5)
  line L10 (121.5, 15.5) -> (118.5, 15.5)
  line L11 (118.5, 15.5) -> (118.5, -15.5)
  line L12 (118.5, 34.75) -> (121.5, 34.75)
  line L13 (121.5, 34.75) -> (121.5, 65.75)
  line L14 (121.5, 65.75) -> (118.5, 65.75)
  line L15 (118.5, 65.75) -> (118.5, 34.75)
  point P0 (0, 0)
  dimension "d223" = 3
  dimension "d224" = 3.5
  dimension "d225" = 10.5
  dimension "d226" = 31
  dimension "d227" = 3
  dimension "d228" = 3
  dimension "d229" = 31
  dimension "d230" = 31
  dimension "d231" = 3.5
  dimension "d232" = 3.5
  dimension "d233" = 170
  dimension "d234" = 19.25
  dimension "d235" = 19.25
  dimension "d236" = 19.25
  dimension "d237" = 19.25
extrude "Extrusion18" cut sketch "Sketch17" against normal through all contours L7 L6 L5 L4 | L11 L10 L9 L8 | L15 L14 L13 L12
mirror "Mirror3" about plane through (0, 0, 0) normal (1, 0, 0) of "Extrusion18"
sketch "Sketch18" plane through (0, 2.5, 0) normal (0, 1, 0) x (1, 0, 0)
  line L0 (-93.25, -93.5) -> (-42.25, -93.5)
  line L1 (-42.25, -93.5) -> (-42.25, -96.5)
  line L2 (-42.25, -96.5) -> (-93.25, -96.5)
  line L3 (-93.25, -96.5) -> (-93.25, -93.5)
  line L4 (-25.5, -93.5) -> (25.5, -93.5)
  line L5 (25.5, -93.5) -> (25.5, -96.5)
  line L6 (25.5, -96.5) -> (-25.5, -96.5)
  line L7 (-25.5, -96.5) -> (-25.5, -93.5)
  line L8 (42.25, -93.5) -> (93.25, -93.5)
  line L9 (93.25, -93.5) -> (93.25, -96.5)
  line L10 (93.25, -96.5) -> (42.25, -96.5)
  line L11 (42.25, -96.5) -> (42.25, -93.5)
  line L12 (110, -100) -> (-110, -100) projected
  line L13 (-110, -100) -> (-110, -89.5) projected
  line L14 (110, -100) -> (-110, -100) projected
  line L15 (110, -89.5) -> (110, -100) projected
  line L16 (-110, -89.5) -> (110, -89.5) projected
  line L17 (-110, -100) -> (-110, -89.5) projected
  point P0 (0, 0)
  dimension "d240" = 3.5
  dimension "d241" = 3
  dimension "d242" = 51
  dimension "d243" = 3
  dimension "d244" = 3
  dimension "d245" = 51
  dimension "d246" = 51
  dimension "d247" = 16.75
  dimension "d248" = 10.5
  dimension "d249" = 220
  dimension "d250" = 16.75
  dimension "d251" = 16.75
  dimension "d252" = 16.75
extrude "Extrusion19" cut sketch "Sketch18" against normal through all contours L0 L1 L2 L3 | L4 L5 L6 L7 | L8 L9 L10 L11
mirror "Mirror4" about plane through (0, 0, 0) normal (0, 0, 1) of "Extrusion19"
equation "\"d2\" = 0.5 * d1"
equation "\"d3\" = 0.5 * d0"
equation "\"d13\" = d10"
equation "\"d14\" = d11"
equation "\"d15\" = d12"
equation "\"d16\" = d10"
equation "\"d17\" = d10"
equation "\"d18\" = d11"
equation "\"d19\" = d11"
equation "\"d20\" = d12"
equation "\"d21\" = d12"
equation "\"d23\" = d22"
equation "\"d24\" = d22"
equation "\"d25\" = d22"
equation "\"d34\" = 0.5 * d33"
equation "\"d36\" = 0.5 * d35"
equation "\"d40\" = d37"
equation "\"d41\" = d38"
equation "\"d43\" = d37"
equation "\"d44\" = d38"
equation "\"d46\" = d38"
equation "\"d47\" = d37"
equation "\"d112\" = d111"
equation "\"d113\" = d111"
equation "\"d114\" = d111"
equation "\"d94\" = d96"
equation "\"d95\" = d96"
equation "\"d97\" = d96"
equation "\"d163\" = d162"
equation "\"d164\" = d161"
equation "\"d165\" = d162"
equation "\"d166\" = d162"
equation "\"d167\" = d161"
equation "\"d168\" = d162"
equation "\"d169\" = d162"
equation "\"d170\" = d161"
equation "\"d171\" = d162"
equation "\"d172\" = d162"
equation "\"d229\" = d226"
equation "\"d230\" = d226"
equation "\"d234\" = -0.75 * d226 + 0.25 * d233"
equation "\"d235\" = d234"
equation "\"d236\" = d234"
equation "\"d247\" = -0.75 * d242 + 0.25 * d249"
equation "\"d250\" = d247"
equation "\"d251\" = d247"
properties part number "Top Roof"
